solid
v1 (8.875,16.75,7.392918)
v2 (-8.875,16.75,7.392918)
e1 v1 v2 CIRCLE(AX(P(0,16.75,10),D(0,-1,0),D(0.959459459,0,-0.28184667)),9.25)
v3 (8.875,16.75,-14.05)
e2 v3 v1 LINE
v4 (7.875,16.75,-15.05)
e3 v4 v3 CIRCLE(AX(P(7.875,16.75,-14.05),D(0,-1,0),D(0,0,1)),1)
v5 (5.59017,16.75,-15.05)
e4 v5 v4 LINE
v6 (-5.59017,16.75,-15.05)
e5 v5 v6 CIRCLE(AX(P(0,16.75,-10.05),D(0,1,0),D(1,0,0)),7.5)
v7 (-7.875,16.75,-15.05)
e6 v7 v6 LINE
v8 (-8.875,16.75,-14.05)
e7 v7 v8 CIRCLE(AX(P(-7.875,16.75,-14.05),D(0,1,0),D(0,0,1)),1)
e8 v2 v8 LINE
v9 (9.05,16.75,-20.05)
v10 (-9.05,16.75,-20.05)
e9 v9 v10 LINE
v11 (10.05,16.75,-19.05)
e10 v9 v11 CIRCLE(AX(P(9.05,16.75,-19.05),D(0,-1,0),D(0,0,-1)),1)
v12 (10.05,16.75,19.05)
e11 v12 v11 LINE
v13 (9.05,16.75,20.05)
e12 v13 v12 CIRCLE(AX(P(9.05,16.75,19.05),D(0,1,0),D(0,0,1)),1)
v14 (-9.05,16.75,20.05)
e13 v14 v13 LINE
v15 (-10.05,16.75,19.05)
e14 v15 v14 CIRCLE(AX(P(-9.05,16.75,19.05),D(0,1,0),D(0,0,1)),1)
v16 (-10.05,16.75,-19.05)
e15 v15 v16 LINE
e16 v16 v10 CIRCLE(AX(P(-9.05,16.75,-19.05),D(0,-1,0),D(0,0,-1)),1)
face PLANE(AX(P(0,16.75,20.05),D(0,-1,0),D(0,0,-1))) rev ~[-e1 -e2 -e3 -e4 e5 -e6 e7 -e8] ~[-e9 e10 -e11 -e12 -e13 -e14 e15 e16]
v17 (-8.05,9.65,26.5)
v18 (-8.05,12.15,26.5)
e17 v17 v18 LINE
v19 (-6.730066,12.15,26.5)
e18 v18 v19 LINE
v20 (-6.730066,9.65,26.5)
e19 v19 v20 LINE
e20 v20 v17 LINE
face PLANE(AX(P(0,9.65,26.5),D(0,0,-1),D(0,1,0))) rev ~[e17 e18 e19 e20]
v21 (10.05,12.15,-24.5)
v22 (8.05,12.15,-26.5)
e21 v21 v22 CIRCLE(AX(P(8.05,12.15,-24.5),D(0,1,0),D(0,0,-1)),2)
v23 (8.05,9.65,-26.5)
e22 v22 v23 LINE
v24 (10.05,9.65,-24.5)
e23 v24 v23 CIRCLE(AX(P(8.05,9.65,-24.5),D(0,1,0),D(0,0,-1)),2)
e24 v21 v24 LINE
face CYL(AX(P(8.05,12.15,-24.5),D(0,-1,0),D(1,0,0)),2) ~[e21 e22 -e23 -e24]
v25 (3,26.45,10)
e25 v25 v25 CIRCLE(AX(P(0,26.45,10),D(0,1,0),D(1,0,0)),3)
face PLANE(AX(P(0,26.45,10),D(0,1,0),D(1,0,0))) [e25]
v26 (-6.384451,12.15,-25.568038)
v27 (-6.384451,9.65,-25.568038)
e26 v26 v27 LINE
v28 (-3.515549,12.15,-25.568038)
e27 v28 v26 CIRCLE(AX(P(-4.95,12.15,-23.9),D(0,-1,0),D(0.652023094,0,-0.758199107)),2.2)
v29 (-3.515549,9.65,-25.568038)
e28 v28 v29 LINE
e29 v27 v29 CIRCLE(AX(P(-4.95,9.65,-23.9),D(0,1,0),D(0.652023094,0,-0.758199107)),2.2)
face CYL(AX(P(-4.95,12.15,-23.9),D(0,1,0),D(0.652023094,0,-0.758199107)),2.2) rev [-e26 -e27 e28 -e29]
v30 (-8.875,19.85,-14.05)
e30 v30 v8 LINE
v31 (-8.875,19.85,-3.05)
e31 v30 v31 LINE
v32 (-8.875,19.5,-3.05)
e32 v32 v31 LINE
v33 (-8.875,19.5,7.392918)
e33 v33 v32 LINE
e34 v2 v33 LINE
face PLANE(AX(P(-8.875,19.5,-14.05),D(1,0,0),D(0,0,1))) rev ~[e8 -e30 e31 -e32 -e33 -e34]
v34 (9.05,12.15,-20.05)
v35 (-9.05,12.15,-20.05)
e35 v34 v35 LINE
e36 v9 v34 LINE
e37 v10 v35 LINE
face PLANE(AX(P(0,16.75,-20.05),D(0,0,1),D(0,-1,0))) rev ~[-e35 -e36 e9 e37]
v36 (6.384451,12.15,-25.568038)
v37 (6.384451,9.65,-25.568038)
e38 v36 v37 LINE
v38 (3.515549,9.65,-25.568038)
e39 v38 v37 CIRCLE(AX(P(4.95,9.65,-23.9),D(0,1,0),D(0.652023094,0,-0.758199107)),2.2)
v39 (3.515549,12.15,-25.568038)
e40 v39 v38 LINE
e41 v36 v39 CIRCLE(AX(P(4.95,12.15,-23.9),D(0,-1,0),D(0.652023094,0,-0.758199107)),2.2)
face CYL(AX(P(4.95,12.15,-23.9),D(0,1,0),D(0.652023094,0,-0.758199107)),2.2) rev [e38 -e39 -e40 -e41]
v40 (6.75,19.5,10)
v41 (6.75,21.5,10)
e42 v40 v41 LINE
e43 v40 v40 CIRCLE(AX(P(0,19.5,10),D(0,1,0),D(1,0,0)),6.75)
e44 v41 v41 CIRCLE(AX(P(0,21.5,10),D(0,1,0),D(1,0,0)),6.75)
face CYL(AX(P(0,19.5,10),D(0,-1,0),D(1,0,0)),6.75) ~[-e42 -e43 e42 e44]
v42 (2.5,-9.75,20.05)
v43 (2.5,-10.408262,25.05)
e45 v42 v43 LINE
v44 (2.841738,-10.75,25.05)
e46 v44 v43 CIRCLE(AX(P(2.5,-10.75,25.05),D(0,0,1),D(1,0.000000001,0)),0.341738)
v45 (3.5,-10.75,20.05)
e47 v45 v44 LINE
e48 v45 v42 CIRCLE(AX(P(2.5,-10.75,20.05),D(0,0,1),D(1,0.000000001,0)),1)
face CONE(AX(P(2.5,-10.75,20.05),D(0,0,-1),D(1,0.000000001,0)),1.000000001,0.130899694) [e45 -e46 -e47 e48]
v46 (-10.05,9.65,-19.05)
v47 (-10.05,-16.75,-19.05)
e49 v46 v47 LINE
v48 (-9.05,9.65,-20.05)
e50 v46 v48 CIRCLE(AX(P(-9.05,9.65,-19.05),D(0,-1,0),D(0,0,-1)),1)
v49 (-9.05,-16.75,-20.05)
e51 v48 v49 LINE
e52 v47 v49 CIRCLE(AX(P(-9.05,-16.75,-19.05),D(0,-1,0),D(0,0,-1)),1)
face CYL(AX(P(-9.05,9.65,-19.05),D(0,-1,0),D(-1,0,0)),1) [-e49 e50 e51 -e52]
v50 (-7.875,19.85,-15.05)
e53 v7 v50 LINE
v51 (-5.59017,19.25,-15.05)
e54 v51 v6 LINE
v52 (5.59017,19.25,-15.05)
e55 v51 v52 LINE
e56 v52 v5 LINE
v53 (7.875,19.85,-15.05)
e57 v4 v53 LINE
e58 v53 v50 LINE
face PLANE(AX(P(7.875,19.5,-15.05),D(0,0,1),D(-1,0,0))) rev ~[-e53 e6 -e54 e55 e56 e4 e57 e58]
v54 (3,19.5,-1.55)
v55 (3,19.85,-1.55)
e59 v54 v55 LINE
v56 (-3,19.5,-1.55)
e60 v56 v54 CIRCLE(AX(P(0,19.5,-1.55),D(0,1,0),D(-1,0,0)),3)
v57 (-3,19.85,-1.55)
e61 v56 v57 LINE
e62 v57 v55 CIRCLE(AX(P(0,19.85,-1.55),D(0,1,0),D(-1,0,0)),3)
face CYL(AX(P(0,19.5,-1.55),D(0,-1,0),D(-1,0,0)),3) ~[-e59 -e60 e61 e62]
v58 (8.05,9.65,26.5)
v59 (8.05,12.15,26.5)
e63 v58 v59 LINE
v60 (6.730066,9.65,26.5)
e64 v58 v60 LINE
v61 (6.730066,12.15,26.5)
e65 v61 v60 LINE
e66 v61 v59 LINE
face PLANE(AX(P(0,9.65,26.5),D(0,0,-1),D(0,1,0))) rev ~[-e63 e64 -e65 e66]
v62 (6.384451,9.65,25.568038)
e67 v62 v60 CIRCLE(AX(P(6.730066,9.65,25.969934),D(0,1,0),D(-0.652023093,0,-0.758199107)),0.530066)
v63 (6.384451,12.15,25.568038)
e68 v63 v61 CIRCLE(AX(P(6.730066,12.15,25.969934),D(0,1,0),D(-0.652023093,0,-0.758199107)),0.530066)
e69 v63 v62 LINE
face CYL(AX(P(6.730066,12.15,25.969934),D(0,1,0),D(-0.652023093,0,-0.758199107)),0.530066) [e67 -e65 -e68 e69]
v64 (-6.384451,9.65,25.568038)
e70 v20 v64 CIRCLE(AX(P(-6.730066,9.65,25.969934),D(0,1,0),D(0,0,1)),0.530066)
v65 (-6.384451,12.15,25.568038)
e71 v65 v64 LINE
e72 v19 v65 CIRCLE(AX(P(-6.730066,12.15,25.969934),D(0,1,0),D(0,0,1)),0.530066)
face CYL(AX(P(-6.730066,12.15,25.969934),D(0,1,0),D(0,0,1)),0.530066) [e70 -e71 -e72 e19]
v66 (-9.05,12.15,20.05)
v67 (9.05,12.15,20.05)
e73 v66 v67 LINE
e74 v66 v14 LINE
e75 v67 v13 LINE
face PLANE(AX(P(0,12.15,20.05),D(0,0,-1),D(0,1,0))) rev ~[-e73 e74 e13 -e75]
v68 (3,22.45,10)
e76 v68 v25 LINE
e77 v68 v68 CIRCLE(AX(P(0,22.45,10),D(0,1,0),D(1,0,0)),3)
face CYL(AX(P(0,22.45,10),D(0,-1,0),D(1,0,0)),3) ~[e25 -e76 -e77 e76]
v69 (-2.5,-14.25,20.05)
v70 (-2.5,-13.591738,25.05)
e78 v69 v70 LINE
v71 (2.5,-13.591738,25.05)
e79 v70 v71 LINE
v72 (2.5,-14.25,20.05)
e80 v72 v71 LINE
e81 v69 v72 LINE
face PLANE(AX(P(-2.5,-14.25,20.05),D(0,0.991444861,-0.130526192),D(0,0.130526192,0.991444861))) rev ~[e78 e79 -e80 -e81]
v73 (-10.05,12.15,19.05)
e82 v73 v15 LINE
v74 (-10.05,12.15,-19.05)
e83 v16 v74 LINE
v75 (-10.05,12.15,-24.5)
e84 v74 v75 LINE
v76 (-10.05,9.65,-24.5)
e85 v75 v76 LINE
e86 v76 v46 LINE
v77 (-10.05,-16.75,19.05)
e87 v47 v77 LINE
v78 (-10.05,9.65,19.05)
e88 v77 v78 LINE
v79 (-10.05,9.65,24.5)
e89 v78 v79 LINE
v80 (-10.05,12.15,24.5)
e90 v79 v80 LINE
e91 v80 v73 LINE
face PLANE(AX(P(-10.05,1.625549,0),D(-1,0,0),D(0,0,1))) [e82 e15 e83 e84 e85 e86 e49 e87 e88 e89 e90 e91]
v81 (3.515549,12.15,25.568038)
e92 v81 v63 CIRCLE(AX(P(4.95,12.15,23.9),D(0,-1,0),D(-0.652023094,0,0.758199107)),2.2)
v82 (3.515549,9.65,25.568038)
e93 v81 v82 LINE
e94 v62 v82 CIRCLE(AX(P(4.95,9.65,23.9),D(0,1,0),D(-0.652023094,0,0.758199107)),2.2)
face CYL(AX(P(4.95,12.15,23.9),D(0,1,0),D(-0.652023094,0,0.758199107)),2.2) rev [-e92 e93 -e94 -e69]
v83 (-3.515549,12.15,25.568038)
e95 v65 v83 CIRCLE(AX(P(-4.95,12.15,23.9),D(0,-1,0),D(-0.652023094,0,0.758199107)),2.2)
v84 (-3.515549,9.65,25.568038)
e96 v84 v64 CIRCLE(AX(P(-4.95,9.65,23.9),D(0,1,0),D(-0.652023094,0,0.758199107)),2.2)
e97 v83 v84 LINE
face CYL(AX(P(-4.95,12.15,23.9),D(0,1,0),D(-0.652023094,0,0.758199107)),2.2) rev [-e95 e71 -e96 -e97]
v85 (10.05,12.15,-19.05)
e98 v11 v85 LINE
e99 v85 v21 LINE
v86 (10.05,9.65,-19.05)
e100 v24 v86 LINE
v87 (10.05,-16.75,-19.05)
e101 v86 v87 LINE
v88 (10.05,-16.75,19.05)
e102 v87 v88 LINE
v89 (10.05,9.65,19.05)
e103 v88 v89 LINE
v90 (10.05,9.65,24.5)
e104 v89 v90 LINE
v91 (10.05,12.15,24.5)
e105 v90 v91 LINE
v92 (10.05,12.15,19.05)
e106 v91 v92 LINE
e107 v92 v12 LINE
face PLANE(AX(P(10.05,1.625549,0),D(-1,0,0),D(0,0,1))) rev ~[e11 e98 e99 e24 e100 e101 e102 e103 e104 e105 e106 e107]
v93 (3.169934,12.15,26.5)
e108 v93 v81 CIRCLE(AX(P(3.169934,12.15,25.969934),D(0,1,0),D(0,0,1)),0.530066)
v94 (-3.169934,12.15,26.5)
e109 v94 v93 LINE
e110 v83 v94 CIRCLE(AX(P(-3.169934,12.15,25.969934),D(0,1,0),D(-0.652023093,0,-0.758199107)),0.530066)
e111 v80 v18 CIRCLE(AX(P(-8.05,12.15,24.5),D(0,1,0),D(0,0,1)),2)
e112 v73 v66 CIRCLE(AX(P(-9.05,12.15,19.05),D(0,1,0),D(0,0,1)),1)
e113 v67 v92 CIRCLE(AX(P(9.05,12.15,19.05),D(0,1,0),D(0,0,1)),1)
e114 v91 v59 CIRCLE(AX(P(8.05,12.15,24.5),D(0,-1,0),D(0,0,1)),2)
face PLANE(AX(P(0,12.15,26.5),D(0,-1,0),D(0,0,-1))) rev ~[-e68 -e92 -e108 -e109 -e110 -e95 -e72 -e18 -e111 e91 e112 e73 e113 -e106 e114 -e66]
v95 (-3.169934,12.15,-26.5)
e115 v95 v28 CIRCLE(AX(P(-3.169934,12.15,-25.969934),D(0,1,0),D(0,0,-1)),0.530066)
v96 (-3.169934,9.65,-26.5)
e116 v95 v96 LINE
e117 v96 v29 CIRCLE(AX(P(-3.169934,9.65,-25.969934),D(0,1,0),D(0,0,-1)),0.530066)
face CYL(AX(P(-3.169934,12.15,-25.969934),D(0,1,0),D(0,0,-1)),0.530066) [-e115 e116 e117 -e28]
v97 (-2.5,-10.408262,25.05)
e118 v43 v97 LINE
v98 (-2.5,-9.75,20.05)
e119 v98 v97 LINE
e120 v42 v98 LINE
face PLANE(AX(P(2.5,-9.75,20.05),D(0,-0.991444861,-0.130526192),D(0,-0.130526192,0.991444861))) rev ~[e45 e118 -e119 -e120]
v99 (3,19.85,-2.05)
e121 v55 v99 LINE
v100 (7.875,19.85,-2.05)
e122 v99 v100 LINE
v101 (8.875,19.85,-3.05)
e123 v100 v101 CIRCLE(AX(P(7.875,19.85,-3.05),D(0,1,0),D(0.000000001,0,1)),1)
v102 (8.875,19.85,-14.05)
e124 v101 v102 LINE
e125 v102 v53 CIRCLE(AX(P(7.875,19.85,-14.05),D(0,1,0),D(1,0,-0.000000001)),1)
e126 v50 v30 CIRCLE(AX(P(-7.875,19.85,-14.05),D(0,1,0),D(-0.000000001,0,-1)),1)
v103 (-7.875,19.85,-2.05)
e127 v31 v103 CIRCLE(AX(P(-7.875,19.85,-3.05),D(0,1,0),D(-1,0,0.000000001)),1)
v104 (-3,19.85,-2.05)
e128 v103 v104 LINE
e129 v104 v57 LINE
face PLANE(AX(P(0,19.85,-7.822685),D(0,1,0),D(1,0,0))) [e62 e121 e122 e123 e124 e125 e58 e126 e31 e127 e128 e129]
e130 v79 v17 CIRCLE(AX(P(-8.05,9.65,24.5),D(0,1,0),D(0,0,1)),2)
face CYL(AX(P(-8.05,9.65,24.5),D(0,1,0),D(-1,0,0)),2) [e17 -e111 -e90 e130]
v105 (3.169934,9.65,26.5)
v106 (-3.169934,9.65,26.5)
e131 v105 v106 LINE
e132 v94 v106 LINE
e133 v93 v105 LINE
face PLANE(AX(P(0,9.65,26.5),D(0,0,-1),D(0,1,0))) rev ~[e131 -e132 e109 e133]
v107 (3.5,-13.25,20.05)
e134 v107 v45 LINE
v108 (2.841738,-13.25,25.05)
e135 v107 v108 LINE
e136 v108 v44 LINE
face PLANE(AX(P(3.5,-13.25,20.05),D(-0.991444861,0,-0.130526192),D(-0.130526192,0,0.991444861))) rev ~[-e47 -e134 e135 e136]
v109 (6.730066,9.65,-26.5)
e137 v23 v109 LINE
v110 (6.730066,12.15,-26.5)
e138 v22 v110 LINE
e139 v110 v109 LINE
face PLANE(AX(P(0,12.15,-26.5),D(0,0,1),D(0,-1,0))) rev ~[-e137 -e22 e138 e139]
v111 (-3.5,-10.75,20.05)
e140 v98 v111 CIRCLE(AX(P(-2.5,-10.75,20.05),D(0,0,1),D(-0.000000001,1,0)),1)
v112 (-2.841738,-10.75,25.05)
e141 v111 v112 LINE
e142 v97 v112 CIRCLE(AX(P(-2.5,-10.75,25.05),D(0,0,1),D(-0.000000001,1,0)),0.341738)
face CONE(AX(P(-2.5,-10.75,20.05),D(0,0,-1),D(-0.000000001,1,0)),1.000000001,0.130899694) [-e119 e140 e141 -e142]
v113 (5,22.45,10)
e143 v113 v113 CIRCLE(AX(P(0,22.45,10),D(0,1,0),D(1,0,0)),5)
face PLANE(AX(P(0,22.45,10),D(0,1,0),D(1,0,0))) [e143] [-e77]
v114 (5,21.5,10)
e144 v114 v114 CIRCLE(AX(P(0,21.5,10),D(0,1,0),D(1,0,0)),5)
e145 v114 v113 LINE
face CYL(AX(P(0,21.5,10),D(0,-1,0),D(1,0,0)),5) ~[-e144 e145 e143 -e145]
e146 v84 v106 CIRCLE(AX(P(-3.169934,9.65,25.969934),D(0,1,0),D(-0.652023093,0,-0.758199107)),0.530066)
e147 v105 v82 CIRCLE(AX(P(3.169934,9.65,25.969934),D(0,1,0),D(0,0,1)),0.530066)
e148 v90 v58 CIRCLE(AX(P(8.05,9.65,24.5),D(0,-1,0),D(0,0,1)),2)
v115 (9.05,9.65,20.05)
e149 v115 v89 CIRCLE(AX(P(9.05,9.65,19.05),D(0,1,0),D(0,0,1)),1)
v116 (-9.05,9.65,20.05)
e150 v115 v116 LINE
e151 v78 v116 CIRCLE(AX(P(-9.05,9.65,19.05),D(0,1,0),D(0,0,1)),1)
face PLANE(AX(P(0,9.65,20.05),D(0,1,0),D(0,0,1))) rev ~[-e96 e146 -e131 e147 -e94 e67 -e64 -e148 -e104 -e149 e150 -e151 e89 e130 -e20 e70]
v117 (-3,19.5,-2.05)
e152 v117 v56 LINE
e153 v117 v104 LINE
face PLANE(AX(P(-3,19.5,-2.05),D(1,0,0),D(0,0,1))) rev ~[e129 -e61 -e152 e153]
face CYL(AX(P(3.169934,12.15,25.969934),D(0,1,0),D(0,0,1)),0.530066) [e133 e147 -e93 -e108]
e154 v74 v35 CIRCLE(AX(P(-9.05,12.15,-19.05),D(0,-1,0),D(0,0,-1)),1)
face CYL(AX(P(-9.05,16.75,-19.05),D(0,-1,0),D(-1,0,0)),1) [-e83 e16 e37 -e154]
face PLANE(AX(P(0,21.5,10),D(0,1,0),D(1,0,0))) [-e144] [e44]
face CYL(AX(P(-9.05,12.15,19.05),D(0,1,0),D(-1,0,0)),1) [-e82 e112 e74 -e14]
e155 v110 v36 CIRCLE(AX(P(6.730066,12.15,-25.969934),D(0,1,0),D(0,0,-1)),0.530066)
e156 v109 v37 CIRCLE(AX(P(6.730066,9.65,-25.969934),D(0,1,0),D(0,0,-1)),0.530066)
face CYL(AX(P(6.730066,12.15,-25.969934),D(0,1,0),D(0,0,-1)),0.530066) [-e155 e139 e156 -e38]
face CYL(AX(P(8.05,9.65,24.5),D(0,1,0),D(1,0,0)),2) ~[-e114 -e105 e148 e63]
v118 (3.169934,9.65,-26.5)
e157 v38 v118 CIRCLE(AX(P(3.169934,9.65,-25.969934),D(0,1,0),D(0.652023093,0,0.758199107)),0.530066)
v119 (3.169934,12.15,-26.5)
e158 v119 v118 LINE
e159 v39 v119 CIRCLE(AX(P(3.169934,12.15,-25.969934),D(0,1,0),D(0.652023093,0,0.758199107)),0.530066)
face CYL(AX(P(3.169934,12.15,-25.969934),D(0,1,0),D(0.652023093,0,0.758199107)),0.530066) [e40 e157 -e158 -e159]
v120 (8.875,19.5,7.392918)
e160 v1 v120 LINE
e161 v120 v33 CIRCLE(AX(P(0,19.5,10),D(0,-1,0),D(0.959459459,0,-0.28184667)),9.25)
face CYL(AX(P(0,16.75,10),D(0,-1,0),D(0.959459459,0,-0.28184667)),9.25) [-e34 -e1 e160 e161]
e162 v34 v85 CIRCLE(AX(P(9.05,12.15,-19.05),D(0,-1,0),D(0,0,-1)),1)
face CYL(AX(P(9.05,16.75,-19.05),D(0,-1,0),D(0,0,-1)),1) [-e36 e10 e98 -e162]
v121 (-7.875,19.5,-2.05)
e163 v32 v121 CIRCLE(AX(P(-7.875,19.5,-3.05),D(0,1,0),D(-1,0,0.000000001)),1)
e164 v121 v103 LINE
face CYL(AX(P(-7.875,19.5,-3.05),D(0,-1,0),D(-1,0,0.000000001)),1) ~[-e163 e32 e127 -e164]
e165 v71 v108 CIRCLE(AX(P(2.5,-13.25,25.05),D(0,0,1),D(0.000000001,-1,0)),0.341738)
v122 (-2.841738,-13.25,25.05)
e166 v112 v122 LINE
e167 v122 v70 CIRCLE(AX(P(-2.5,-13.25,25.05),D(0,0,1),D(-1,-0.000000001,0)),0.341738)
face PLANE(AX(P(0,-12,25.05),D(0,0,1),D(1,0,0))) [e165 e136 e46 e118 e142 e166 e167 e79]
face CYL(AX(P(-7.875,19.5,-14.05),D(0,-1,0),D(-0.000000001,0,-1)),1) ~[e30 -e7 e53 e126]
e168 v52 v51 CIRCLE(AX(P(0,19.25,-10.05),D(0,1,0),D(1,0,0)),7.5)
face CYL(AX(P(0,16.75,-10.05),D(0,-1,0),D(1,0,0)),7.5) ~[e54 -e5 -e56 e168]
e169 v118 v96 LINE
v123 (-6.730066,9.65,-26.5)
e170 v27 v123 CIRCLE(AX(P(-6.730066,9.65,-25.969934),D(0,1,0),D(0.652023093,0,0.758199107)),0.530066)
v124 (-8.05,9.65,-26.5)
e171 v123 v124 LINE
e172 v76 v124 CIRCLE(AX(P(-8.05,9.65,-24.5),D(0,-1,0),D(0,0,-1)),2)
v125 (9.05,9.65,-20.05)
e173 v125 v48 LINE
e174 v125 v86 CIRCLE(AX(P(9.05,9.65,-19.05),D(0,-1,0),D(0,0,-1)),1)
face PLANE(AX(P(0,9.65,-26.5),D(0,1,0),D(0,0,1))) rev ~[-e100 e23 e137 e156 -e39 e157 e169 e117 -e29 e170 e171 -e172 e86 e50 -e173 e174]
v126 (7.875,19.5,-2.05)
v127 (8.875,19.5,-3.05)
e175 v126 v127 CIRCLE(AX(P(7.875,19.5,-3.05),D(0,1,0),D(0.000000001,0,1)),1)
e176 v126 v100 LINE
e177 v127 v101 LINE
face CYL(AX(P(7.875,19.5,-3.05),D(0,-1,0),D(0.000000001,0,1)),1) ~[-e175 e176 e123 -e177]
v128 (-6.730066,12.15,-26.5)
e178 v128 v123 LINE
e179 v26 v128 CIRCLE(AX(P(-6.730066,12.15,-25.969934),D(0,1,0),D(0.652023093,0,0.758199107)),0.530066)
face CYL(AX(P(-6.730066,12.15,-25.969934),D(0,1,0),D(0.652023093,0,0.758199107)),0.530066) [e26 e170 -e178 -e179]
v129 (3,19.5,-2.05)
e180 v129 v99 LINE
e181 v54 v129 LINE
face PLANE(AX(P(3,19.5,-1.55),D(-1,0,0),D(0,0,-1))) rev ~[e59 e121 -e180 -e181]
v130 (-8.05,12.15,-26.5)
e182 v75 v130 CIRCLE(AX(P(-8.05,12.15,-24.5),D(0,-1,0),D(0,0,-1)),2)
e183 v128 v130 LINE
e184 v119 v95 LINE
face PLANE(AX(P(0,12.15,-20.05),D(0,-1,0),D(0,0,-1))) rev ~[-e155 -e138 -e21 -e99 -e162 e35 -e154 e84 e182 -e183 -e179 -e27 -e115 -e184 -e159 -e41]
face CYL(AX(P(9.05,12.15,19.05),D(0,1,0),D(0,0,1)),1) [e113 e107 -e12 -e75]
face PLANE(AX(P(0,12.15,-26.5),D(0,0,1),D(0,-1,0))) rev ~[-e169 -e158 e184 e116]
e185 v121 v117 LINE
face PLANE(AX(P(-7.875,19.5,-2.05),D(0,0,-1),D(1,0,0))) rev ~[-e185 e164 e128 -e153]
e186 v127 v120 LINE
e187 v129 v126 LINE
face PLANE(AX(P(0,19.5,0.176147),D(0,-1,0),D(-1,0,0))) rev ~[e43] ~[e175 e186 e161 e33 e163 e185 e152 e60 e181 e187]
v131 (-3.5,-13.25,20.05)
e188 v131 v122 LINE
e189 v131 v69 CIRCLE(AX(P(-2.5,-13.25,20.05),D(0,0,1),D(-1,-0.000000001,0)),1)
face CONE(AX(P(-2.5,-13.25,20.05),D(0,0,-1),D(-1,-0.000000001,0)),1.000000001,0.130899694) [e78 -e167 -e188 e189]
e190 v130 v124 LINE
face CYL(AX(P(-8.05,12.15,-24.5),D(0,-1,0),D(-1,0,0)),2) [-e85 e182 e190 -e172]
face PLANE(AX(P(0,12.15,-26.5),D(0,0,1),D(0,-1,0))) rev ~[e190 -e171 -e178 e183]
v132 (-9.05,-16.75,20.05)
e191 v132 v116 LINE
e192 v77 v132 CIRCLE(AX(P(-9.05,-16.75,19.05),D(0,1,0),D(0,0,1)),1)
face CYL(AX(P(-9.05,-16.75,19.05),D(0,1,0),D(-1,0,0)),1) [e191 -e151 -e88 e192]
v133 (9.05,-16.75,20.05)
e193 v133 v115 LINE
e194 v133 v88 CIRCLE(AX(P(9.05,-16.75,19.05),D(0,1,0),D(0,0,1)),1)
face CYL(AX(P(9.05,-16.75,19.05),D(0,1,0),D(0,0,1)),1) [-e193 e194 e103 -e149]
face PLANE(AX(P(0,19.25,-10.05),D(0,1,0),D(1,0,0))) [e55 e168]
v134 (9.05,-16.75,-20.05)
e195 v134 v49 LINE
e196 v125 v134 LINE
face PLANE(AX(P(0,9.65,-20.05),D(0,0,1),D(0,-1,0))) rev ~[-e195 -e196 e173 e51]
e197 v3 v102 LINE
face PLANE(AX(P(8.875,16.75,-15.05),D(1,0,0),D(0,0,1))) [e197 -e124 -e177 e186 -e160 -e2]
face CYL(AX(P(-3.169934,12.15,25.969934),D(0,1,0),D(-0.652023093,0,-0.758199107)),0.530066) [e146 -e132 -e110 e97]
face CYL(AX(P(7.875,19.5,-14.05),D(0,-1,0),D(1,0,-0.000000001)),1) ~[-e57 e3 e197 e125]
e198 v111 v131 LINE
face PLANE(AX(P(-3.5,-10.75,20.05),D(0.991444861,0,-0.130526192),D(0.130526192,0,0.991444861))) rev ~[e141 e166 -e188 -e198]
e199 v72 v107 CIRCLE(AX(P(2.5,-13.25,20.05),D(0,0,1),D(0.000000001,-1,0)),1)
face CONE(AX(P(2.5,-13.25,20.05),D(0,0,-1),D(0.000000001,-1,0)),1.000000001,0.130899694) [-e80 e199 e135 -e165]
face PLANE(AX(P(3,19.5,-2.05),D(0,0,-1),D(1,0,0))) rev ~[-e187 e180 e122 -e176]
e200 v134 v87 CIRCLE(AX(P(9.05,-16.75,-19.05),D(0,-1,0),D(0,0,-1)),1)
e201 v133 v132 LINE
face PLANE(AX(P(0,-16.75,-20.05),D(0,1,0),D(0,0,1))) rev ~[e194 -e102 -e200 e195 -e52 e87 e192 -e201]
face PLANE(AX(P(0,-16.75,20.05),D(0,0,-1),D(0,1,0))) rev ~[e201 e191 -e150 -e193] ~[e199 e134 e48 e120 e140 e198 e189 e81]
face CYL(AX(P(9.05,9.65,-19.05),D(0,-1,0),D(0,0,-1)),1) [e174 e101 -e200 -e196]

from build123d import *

# Parameters (mm, degrees)
BOSS_EXTRUDE1_DEPTH = 10.05
BOSS_EXTRUDE2_DEPTH = 2.75
SKETCH3_R           = 7.5
BOSS_EXTRUDE3_DEPTH = 2.5
SKETCH4_R           = 6.75
BOSS_EXTRUDE4_DEPTH = 2
SKETCH5_R           = 5
BOSS_EXTRUDE5_DEPTH = 0.95
SKETCH6_R           = 3
SERVO_SPLINE_DEPTH  = 4
FILLET1_R           = 1
BOSS_EXTRUDE7_DEPTH = 0.35
CUT_EXTRUDE1_DEPTH  = 29.9
FILLET2_R           = 2
FILLET3_R           = 1
BOSS_EXTRUDE8_DEPTH = 5
BOSS_EXTRUDE8_TAPER = 7.5


with BuildPart() as part:
    # Sketch1 → Boss-Extrude1 (new body, symmetric)
    with BuildSketch(Plane(origin=(0, 0, 0), x_dir=(0, 0, -1), z_dir=(1, 0, 0))):
        Polygon((-20.05, 16.75), (20.05, 16.75), (20.05, 12.15), (26.5, 12.15), (26.5, 9.65), (20.05, 9.65), (20.05, -16.75), (-20.05, -16.75), (-20.05, 9.65), (-26.5, 9.65), (-26.5, 12.15), (-20.05, 12.15), align=None)
    extrude(amount=BOSS_EXTRUDE1_DEPTH, both=True)

    # Sketch2 → Boss-Extrude2 (add)
    with BuildSketch(Plane(origin=(0, 16.75, 0), x_dir=(1, 0, 0), z_dir=(0, 1, 0))):
        with BuildLine():
            Line((-8.875, 15.05), (8.875, 15.05))
            Line((8.875, 15.05), (8.875, -7.392918298))
            ThreePointArc((8.875, -7.392918298), (0, -19.25), (-8.875, -7.392918298))
            Line((-8.875, -7.392918298), (-8.875, 15.05))
        make_face()
    extrude(amount=BOSS_EXTRUDE2_DEPTH)

    # Sketch3 → Boss-Extrude3 (add)
    with BuildSketch(Plane(origin=(0, 16.75, 0), x_dir=(1, 0, 0), z_dir=(0, 1, 0))):
        with Locations((0, 10.05)):
            Circle(SKETCH3_R)
    extrude(amount=BOSS_EXTRUDE3_DEPTH)

    # Sketch4 → Boss-Extrude4 (add)
    with BuildSketch(Plane(origin=(0, 19.5, 0), x_dir=(1, 0, 0), z_dir=(0, 1, 0))):
        with Locations((0, -10)):
            Circle(SKETCH4_R)
    extrude(amount=BOSS_EXTRUDE4_DEPTH)

    # Sketch5 → Boss-Extrude5 (add)
    with BuildSketch(Plane(origin=(0, 21.5, 0), x_dir=(1, 0, 0), z_dir=(0, 1, 0))):
        with Locations((0, -10)):
            Circle(SKETCH5_R)
    extrude(amount=BOSS_EXTRUDE5_DEPTH)

    # Sketch6 → Servo Spline (add)
    with BuildSketch(Plane(origin=(0, 22.45, 0), x_dir=(1, 0, 0), z_dir=(0, 1, 0))):
        with Locations((0, -10)):
            Circle(SKETCH6_R)
    extrude(amount=SERVO_SPLINE_DEPTH)

    # Fillet1
    fillet1_edges = [part.edges().sort_by_distance(p)[0] for p in [
        (-8.875, 18.125, -15.05),
        (8.875, 18.125, -15.05),
    ]]
    fillet(fillet1_edges, radius=FILLET1_R)

    # Sketch7 → Boss-Extrude7 (add)
    with BuildSketch(Plane(origin=(0, 19.5, 0), x_dir=(1, 0, 0), z_dir=(0, 1, 0))):
        with BuildLine():
            Line((-7.875, 2.05), (-3, 2.05))
            Line((-3, 2.05), (-3, 1.55))
            ThreePointArc((-3, 1.55), (0, -1.45), (3, 1.55))
            Line((3, 1.55), (3, 2.05))
            Line((3, 2.05), (7.875, 2.05))
            ThreePointArc((7.875, 2.05), (8.582106781, 2.342893219), (8.875, 3.05))
            Line((8.875, 3.05), (8.875, 14.05))
            ThreePointArc((8.875, 14.05), (8.582106781, 14.757106781), (7.875, 15.05))
            Line((7.875, 15.05), (-7.875, 15.05))
            ThreePointArc((-7.875, 15.05), (-8.582106781, 14.757106781), (-8.875, 14.05))
            Line((-8.875, 14.05), (-8.875, 3.05))
            ThreePointArc((-8.875, 3.05), (-8.582106781, 2.342893219), (-7.875, 2.05))
        make_face()
    extrude(amount=BOSS_EXTRUDE7_DEPTH)

    # Sketch8 → Cut-Extrude1 (cut, through all)
    with BuildSketch(Plane(origin=(0, 12.15, 0), x_dir=(1, 0, 0), z_dir=(0, 1, 0))):
        with BuildLine():
            Line((6.730066226, -26.5), (3.169933774, -26.5))
            ThreePointArc((3.169933774, -26.5), (3.666925505, -26.154241731), (3.515549194, -25.568038035))
            ThreePointArc((3.515549194, -25.568038035), (4.95, -21.7), (6.384450806, -25.568038035))
            ThreePointArc((6.384450806, -25.568038035), (6.233074495, -26.154241731), (6.730066226, -26.5))
        make_face()
        with BuildLine():
            Line((-3.169933774, -26.5), (-6.730066226, -26.5))
            ThreePointArc((-6.730066226, -26.5), (-6.233074495, -26.154241731), (-6.384450806, -25.568038035))
            ThreePointArc((-6.384450806, -25.568038035), (-4.95, -21.7), (-3.515549194, -25.568038035))
            ThreePointArc((-3.515549194, -25.568038035), (-3.666925505, -26.154241731), (-3.169933774, -26.5))
        make_face()
        with BuildLine():
            Line((-6.730066226, 26.5), (-3.169933774, 26.5))
            ThreePointArc((-3.169933774, 26.5), (-3.666925505, 26.154241731), (-3.515549194, 25.568038035))
            ThreePointArc((-3.515549194, 25.568038035), (-4.95, 21.7), (-6.384450806, 25.568038035))
            ThreePointArc((-6.384450806, 25.568038035), (-6.233074495, 26.154241731), (-6.730066226, 26.5))
        make_face()
        with BuildLine():
            Line((3.169933774, 26.5), (6.730066226, 26.5))
            ThreePointArc((6.730066226, 26.5), (6.233074495, 26.154241731), (6.384450806, 25.568038035))
            ThreePointArc((6.384450806, 25.568038035), (4.95, 21.7), (3.515549194, 25.568038035))
            ThreePointArc((3.515549194, 25.568038035), (3.666925505, 26.154241731), (3.169933774, 26.5))
        make_face()
    extrude(amount=-CUT_EXTRUDE1_DEPTH, mode=Mode.SUBTRACT)

    # Fillet2
    fillet2_edges = [part.edges().sort_by_distance(p)[0] for p in [
        (10.05, 10.9, 26.5),
        (-10.05, 10.9, -26.5),
        (-10.05, 10.9, 26.5),
        (10.05, 10.9, -26.5),
    ]]
    fillet(fillet2_edges, radius=FILLET2_R)

    # Fillet3
    fillet3_edges = [part.edges().sort_by_distance(p)[0] for p in [
        (-10.05, 14.45, -20.05),
        (-10.05, -3.55, -20.05),
        (-10.05, -3.55, 20.05),
        (-10.05, 14.45, 20.05),
        (10.05, -3.55, 20.05),
        (10.05, -3.55, -20.05),
        (10.05, 14.45, -20.05),
        (10.05, 14.45, 20.05),
    ]]
    fillet(fillet3_edges, radius=FILLET3_R)

    # Sketch9 → Boss-Extrude8 (add)
    with BuildSketch(Plane.XY.offset(20.05)):
        with BuildLine():
            Line((-2.5, -14.25), (2.5, -14.25))
            ThreePointArc((2.5, -14.25), (3.207106781, -13.957106781), (3.5, -13.25))
            Line((3.5, -13.25), (3.5, -10.75))
            ThreePointArc((3.5, -10.75), (3.207106781, -10.042893219), (2.5, -9.75))
            Line((2.5, -9.75), (-2.5, -9.75))
            ThreePointArc((-2.5, -9.75), (-3.207106781, -10.042893219), (-3.5, -10.75))
            Line((-3.5, -10.75), (-3.5, -13.25))
            ThreePointArc((-3.5, -13.25), (-3.207106781, -13.957106781), (-2.5, -14.25))
        make_face()
    extrude(amount=BOSS_EXTRUDE8_DEPTH, taper=BOSS_EXTRUDE8_TAPER)


solid = part.part
